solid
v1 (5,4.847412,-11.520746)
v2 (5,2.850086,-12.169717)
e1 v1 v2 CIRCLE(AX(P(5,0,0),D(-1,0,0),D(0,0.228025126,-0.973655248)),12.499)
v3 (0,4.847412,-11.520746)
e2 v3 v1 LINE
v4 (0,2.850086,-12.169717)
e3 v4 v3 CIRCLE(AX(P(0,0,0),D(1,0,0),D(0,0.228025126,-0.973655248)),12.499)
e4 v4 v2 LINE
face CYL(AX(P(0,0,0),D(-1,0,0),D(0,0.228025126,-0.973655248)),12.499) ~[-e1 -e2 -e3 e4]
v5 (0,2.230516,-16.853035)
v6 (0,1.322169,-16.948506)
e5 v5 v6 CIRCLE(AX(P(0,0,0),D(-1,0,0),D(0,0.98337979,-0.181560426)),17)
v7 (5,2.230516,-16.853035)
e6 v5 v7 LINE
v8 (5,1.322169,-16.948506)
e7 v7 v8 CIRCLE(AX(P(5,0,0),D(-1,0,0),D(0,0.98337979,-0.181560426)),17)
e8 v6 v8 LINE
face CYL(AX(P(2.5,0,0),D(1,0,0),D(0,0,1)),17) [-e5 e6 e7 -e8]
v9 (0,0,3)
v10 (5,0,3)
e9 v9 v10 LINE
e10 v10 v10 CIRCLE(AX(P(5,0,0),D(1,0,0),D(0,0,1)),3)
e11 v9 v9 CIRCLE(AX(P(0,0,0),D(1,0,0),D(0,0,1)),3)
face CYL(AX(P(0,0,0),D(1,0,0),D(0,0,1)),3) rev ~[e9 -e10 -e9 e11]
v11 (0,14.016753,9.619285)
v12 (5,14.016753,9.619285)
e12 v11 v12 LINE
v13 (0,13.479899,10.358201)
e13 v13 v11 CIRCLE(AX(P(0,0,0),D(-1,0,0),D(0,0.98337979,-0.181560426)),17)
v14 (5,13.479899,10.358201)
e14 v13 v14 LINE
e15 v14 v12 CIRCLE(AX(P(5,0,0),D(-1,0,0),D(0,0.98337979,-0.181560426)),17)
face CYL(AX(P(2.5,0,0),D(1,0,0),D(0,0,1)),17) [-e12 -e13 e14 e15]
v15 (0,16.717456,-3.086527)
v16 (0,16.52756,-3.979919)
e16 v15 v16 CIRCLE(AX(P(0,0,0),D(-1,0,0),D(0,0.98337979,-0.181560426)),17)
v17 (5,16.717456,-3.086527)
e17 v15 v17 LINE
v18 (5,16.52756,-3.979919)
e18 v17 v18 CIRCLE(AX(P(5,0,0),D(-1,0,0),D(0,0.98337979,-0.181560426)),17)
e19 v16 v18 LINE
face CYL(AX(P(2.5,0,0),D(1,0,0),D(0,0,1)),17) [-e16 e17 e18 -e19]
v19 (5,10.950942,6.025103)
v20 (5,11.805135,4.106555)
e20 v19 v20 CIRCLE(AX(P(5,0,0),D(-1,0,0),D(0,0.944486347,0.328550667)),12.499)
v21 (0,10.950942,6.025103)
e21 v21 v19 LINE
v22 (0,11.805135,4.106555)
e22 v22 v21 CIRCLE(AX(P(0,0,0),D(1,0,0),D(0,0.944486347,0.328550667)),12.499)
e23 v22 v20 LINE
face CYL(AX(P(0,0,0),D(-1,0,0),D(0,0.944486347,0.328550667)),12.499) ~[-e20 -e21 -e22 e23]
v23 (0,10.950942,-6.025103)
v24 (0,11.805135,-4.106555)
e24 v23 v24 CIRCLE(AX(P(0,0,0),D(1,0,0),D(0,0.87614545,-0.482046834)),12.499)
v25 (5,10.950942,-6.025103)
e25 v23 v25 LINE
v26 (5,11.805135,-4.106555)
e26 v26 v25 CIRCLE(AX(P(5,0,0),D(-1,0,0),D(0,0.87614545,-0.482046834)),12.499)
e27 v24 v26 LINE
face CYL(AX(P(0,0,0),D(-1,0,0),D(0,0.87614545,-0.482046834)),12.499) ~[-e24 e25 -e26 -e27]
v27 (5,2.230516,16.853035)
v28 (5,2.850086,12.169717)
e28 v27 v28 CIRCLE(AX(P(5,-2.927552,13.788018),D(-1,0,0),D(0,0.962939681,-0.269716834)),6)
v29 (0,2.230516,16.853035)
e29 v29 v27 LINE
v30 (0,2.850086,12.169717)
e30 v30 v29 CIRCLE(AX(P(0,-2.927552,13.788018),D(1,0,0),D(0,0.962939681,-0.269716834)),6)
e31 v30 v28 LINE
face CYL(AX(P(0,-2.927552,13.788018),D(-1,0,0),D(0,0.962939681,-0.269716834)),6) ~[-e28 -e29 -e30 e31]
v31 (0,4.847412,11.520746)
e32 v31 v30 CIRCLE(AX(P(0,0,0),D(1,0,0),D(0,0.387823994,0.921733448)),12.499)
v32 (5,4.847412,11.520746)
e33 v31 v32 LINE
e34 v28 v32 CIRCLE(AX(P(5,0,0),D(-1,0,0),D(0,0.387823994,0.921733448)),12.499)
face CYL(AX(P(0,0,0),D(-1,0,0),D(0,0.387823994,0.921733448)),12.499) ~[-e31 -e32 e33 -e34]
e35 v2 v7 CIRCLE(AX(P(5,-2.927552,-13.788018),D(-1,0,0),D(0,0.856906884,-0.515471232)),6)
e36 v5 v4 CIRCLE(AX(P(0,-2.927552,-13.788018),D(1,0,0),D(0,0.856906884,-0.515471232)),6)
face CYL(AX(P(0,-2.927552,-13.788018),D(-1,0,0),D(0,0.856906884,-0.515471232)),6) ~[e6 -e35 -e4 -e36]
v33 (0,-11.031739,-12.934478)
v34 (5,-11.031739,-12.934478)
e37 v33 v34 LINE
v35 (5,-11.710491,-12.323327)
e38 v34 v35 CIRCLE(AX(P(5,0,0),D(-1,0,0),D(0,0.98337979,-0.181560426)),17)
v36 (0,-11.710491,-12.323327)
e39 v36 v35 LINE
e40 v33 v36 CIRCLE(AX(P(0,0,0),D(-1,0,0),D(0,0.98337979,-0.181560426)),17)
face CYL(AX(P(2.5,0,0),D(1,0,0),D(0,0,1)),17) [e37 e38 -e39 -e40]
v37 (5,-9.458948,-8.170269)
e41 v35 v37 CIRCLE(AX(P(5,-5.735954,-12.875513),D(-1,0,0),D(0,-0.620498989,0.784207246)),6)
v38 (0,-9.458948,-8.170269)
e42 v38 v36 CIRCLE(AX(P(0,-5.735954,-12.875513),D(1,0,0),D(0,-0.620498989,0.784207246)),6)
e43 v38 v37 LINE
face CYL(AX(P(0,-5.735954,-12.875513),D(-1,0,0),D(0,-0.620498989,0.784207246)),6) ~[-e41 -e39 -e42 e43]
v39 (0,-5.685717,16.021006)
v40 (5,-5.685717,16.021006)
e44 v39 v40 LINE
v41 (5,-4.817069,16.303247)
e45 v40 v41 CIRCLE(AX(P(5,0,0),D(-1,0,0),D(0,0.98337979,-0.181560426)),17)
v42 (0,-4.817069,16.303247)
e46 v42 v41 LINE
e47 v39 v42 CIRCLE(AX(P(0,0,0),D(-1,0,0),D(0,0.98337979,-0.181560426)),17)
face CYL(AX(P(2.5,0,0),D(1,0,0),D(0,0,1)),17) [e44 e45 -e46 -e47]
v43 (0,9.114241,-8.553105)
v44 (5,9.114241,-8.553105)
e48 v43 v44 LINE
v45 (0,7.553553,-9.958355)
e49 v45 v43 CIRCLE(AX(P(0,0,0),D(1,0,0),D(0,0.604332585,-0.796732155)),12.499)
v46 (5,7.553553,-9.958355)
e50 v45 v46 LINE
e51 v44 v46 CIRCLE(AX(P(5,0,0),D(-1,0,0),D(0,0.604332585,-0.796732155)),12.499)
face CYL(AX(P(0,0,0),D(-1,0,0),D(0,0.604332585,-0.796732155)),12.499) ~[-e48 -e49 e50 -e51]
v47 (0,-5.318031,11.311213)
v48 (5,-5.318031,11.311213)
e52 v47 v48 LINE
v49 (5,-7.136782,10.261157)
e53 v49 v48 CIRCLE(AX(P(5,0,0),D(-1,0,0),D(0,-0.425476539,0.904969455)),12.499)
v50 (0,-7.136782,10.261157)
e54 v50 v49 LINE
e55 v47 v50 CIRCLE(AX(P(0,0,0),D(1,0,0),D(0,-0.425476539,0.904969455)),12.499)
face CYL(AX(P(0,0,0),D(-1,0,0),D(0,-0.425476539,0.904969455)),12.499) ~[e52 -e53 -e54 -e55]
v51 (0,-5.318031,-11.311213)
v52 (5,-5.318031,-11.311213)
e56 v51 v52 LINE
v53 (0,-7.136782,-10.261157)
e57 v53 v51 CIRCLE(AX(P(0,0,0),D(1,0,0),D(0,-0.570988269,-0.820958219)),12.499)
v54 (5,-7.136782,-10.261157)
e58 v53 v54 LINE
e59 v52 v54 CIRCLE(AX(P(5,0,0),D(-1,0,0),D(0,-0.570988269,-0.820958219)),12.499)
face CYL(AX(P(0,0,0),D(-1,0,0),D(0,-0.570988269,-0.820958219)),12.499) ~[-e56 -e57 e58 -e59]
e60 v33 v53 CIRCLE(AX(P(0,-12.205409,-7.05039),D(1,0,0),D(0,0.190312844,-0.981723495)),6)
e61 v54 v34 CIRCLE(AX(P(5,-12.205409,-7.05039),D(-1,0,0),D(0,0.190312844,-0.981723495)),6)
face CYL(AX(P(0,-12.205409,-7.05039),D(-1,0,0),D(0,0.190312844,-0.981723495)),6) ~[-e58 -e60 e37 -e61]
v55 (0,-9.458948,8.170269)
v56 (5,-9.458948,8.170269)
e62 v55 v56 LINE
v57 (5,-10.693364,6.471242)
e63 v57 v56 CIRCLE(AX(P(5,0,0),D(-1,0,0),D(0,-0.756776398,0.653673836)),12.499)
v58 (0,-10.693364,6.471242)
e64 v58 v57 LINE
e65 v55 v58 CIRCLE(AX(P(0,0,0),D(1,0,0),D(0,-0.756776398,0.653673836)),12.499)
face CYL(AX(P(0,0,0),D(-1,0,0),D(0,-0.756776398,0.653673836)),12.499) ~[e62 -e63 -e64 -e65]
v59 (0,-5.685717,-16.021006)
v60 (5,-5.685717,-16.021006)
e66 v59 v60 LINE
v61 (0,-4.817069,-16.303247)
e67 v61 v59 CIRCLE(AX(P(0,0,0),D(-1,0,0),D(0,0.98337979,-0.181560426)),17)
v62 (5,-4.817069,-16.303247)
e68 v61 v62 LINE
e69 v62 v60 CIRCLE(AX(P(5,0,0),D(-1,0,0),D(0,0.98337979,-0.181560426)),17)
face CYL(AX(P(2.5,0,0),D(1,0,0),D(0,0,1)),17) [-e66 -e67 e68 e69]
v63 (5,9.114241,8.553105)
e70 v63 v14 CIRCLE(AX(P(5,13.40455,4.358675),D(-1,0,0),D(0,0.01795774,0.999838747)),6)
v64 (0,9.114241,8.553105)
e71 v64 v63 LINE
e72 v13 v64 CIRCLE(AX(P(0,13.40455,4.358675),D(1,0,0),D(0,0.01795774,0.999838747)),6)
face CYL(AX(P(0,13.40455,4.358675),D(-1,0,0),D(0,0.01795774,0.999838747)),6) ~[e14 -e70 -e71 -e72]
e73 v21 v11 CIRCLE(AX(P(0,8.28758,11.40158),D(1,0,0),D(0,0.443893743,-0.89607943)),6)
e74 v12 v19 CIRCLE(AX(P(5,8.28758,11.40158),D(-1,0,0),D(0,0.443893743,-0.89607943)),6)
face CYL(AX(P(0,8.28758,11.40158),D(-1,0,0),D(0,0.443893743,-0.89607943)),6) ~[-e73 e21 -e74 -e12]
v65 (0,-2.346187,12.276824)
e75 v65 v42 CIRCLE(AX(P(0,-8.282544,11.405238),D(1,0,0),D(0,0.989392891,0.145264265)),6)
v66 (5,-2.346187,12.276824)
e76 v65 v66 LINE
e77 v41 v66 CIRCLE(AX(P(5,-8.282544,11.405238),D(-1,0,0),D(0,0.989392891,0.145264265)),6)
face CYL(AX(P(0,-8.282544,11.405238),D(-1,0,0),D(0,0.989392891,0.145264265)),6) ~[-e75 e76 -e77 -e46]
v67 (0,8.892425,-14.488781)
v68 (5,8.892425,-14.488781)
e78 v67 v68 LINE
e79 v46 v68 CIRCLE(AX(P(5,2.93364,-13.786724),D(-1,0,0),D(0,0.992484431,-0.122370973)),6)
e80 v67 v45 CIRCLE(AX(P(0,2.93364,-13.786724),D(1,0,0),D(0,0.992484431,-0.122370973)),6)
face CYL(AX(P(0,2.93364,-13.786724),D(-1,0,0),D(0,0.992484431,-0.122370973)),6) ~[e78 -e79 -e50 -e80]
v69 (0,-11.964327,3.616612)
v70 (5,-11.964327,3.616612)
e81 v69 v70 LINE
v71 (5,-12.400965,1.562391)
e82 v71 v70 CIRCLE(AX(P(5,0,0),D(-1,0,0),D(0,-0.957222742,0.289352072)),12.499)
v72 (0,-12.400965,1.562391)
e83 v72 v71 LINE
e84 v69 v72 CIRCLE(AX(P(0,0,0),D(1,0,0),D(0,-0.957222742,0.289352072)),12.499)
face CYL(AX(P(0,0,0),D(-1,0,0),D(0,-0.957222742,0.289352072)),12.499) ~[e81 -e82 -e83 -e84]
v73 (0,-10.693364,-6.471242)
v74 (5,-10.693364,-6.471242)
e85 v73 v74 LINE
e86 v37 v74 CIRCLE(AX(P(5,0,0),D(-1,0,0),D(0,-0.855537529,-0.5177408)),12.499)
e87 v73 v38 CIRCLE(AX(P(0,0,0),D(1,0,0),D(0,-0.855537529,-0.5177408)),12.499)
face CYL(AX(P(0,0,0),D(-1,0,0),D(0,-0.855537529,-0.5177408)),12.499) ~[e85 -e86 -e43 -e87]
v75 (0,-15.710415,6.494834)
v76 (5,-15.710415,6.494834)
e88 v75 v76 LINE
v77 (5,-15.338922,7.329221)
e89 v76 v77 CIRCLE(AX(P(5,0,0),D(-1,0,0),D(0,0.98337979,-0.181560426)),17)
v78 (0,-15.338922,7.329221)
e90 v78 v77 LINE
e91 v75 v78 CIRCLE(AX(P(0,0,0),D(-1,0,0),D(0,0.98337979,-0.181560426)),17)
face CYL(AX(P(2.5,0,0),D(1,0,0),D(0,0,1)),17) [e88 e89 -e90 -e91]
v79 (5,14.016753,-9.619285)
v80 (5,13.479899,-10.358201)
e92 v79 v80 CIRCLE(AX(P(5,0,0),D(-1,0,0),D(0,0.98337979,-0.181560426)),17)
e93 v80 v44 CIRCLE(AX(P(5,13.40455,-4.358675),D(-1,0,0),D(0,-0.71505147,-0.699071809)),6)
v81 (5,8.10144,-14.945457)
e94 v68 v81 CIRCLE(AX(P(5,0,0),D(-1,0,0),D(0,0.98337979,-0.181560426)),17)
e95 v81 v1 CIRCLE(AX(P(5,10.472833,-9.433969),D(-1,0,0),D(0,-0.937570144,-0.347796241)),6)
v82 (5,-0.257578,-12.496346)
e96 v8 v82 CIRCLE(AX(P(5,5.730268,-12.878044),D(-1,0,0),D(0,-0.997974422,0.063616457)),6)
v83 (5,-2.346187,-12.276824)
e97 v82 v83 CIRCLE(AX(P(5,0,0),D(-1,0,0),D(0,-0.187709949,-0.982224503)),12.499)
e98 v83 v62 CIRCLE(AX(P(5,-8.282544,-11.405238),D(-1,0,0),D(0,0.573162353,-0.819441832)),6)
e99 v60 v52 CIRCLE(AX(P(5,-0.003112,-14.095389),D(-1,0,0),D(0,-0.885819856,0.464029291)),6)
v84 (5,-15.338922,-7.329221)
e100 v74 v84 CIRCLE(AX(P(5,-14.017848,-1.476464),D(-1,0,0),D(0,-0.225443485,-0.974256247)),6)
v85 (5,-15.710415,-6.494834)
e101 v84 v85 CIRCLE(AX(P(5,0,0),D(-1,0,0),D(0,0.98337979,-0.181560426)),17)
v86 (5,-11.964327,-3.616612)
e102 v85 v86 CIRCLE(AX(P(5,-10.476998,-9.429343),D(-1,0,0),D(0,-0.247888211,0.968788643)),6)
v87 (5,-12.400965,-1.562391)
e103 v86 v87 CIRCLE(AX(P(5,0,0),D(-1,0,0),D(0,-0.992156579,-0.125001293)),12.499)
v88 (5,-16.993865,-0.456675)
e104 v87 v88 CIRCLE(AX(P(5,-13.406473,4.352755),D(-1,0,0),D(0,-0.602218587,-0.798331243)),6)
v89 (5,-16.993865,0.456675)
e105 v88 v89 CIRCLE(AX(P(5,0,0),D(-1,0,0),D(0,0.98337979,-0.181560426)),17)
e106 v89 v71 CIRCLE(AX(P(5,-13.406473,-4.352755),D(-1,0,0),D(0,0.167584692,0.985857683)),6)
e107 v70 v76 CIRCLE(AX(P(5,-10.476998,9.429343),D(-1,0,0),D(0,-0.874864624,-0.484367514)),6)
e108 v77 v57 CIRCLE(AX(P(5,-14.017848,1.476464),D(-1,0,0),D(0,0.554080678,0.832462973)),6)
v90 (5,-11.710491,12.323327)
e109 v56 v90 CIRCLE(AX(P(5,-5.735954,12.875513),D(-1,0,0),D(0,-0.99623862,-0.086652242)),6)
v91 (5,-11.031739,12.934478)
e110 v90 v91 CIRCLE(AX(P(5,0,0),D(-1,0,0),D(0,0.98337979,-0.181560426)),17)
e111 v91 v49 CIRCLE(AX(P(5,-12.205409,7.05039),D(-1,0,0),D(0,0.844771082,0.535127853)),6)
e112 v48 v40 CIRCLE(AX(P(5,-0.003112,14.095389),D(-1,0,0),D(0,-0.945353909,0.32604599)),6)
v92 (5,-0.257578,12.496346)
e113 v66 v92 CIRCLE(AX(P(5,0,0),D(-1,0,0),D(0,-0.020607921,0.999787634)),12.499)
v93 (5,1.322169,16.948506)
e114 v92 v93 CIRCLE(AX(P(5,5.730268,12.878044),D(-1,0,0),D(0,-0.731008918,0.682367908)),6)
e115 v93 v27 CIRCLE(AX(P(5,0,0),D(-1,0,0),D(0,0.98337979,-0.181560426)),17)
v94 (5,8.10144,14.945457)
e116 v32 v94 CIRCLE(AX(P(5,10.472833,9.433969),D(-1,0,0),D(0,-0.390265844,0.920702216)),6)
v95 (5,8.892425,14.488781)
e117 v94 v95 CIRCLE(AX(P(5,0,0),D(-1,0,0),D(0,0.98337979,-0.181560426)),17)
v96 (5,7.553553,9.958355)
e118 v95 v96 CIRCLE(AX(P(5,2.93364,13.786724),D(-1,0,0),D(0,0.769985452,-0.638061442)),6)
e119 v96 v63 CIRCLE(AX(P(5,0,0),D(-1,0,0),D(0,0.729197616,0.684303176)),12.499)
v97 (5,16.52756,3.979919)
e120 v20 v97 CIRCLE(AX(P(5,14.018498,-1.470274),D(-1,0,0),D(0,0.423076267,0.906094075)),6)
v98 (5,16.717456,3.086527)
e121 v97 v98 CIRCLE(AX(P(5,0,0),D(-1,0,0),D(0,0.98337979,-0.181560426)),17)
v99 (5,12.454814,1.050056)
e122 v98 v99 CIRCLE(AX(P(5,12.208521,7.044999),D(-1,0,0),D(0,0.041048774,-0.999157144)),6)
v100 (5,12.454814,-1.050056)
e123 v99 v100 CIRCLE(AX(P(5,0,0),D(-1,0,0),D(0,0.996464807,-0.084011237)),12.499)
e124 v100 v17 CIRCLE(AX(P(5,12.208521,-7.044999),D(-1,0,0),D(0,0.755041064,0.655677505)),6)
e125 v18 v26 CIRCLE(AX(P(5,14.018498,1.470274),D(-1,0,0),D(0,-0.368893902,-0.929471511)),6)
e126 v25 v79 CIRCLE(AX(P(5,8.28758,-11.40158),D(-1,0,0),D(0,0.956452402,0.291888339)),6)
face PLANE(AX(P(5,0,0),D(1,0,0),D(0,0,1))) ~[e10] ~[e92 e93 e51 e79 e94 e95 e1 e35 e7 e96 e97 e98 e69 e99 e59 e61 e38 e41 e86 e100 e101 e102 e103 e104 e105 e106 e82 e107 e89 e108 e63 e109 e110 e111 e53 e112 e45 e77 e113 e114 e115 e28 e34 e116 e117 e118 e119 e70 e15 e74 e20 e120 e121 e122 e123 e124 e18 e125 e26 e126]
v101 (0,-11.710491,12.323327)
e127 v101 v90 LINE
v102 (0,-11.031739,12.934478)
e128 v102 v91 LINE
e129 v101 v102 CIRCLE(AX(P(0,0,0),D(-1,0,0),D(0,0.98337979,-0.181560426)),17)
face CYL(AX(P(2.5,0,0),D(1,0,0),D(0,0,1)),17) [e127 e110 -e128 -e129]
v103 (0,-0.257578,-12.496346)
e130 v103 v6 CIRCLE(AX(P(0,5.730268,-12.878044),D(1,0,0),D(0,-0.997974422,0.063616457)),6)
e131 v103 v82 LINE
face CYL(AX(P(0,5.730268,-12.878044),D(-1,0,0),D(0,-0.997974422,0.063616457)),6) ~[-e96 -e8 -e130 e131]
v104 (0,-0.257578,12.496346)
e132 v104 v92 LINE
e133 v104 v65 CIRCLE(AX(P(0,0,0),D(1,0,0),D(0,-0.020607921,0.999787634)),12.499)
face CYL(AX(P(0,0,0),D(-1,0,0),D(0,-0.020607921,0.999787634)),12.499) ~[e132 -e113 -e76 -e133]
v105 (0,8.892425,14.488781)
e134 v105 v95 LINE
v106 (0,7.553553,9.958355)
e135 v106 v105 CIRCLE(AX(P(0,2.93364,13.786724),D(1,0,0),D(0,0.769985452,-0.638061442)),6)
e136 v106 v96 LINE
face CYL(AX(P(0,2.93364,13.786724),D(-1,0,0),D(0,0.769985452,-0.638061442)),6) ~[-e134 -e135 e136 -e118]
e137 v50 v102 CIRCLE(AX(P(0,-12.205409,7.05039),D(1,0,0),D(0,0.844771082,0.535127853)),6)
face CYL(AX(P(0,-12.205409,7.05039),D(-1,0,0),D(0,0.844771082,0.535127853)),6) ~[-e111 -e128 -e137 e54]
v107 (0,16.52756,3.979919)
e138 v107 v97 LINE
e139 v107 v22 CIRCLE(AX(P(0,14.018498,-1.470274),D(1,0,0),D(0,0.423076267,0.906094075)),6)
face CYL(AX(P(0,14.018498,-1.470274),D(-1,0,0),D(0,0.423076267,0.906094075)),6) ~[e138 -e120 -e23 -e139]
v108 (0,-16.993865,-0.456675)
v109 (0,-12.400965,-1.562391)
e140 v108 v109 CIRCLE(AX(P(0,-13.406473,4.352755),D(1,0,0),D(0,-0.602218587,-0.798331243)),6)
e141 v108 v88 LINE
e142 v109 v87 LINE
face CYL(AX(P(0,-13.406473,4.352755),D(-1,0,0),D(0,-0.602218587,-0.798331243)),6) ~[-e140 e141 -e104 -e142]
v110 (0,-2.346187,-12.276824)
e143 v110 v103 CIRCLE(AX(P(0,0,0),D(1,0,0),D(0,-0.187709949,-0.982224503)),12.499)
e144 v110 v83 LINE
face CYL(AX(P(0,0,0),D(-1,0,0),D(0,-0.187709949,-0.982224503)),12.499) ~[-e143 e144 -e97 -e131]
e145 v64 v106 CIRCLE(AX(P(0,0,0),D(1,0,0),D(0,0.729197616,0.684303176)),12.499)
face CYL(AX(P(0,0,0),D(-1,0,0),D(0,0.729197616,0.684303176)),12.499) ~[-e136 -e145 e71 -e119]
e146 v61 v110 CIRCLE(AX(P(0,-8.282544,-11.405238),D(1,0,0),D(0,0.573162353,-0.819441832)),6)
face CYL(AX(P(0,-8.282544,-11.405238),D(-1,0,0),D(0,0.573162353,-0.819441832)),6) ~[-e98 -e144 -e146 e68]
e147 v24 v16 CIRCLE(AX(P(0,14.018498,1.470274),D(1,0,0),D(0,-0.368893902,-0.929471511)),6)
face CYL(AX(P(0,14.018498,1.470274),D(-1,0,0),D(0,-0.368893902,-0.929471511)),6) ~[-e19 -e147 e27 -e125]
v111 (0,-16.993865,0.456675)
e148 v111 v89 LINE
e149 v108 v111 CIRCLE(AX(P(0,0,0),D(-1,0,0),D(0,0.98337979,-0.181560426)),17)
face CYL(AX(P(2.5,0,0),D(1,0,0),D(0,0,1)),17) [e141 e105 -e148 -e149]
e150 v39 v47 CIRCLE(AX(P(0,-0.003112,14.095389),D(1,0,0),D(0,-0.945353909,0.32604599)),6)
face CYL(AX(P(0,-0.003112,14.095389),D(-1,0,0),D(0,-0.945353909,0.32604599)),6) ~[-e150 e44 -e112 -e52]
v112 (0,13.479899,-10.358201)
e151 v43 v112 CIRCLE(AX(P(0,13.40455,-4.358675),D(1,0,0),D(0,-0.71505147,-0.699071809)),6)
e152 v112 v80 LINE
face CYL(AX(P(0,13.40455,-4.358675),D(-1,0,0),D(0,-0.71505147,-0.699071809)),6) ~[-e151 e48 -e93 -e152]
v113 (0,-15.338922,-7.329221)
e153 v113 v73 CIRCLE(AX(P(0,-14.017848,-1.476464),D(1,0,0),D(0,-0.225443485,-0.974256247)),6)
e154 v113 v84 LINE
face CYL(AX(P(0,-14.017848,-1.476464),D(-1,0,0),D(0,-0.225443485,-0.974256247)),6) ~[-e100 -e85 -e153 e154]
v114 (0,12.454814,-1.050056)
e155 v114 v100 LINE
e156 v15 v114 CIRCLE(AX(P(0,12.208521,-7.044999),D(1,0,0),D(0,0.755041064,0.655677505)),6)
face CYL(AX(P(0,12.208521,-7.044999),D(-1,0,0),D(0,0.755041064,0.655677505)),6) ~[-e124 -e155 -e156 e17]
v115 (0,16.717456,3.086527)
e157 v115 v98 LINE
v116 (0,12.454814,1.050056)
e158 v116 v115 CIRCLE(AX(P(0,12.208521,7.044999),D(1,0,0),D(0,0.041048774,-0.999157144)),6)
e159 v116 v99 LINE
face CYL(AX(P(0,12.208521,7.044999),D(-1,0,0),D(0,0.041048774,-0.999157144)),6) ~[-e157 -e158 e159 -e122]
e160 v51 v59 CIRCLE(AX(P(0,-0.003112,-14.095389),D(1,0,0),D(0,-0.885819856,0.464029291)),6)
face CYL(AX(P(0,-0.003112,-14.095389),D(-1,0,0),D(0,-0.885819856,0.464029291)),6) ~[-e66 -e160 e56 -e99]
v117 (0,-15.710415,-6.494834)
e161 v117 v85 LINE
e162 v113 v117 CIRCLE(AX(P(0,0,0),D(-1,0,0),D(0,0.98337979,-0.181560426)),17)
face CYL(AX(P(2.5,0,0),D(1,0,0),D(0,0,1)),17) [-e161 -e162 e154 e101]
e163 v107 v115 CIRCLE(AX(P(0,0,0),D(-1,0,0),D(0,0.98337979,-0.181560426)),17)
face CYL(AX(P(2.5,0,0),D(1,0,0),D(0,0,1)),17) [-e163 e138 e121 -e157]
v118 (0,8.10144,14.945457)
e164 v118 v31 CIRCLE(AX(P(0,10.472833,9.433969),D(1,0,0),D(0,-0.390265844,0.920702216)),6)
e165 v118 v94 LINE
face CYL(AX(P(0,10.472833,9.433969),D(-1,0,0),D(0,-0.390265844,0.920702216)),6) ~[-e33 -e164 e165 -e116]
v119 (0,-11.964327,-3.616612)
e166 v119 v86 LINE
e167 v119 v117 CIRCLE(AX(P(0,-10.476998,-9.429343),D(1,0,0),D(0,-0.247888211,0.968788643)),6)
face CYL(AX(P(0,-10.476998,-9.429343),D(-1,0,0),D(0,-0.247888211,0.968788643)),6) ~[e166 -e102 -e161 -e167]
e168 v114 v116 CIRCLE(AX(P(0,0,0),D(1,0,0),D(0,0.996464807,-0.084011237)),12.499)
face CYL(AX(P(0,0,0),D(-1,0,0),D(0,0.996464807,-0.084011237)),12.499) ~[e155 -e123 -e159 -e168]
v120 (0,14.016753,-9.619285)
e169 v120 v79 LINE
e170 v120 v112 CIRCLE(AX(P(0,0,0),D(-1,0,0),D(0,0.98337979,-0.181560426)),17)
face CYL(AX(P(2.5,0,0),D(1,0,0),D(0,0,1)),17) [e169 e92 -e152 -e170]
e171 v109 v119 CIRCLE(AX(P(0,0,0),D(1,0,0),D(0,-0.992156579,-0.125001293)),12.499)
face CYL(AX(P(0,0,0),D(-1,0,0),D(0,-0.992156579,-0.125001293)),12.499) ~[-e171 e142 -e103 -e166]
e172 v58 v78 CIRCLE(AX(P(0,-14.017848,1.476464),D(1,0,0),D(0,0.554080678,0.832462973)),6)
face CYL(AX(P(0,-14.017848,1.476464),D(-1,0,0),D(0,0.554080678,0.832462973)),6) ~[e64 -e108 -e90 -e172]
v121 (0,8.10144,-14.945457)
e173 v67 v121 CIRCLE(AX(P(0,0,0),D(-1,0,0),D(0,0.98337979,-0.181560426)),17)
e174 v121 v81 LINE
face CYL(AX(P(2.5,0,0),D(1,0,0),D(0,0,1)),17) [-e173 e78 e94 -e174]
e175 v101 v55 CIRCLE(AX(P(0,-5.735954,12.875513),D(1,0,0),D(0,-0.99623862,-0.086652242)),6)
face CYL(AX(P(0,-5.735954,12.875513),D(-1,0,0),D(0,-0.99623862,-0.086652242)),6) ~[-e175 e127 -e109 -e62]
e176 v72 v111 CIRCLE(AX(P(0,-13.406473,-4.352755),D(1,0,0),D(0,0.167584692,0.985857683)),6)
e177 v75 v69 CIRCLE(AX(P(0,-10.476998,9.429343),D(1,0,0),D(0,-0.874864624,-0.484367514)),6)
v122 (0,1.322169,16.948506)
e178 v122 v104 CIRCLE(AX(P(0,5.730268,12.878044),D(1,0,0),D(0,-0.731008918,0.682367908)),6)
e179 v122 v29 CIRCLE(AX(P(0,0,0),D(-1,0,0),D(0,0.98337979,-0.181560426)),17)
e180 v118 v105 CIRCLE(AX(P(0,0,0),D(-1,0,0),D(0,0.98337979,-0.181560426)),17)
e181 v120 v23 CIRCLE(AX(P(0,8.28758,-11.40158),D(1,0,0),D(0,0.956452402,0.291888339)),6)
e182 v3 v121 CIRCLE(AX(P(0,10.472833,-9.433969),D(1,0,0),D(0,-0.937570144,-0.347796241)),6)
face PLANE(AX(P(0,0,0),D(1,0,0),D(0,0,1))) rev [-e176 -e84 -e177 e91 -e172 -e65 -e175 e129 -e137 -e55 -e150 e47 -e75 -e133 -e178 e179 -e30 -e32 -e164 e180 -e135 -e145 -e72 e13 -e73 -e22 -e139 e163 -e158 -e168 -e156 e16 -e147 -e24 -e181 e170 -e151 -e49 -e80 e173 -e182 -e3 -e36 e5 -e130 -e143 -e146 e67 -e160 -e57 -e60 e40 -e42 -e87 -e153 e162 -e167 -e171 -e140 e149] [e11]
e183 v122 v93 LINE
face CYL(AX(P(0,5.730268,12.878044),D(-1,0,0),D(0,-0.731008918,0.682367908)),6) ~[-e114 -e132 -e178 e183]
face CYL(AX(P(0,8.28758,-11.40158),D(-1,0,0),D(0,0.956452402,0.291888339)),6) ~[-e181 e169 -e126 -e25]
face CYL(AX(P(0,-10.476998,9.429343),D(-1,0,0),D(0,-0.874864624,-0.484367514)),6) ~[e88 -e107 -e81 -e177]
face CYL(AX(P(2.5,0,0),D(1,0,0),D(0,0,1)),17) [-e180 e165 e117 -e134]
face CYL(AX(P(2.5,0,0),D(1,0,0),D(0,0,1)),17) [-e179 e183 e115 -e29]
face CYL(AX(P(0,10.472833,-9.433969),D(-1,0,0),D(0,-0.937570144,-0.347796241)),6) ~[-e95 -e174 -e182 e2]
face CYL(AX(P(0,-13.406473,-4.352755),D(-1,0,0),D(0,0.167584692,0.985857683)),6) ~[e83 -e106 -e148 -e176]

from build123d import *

# Parameters (mm, degrees)
BASPROSKE_W     = 5
BASPROSKE_H     = 17
TOOTHCUT_DEPTH  = 25.556058316
TEETHCUTS_COUNT = 15
TEETHCUTS_ANGLE = 336
BORSKE_R        = 3
BORE_DEPTH      = 50.0000508


with BuildPart() as part:
    # BasProSke → Base-Revolve (revolve)
    with BuildSketch(Plane(origin=(0, 0, 0), x_dir=(1, 0, 0), z_dir=(0, 1, 0)), mode=Mode.PRIVATE) as base_revolve_sk:
        with Locations((2.5, 8.5)):
            Rectangle(BASPROSKE_W, BASPROSKE_H)
    revolve(base_revolve_sk.sketch.rotate(Axis((-10, 0, 0), (1, 0, 0)), 180), axis=Axis((-10, 0, 0), (1, 0, 0)))

    # TooCutSke → ToothCut (cut, through all)
    with BuildSketch(Plane(origin=(0, 0, 0), x_dir=(0, 0, -1), z_dir=(1, 0, 0))):
        with BuildLine():
            ThreePointArc((1.050056448, 12.454813626), (0, 12.499), (-1.050056448, 12.454813626))
            ThreePointArc((-1.050056448, 12.454813626), (-1.638118106, 14.809604533), (-3.110934279, 16.73876737))
            ThreePointArc((-3.110934279, 16.73876737), (0, 17.0254), (3.110934279, 16.73876737))
            ThreePointArc((3.110934279, 16.73876737), (1.638118106, 14.809604533), (1.050056448, 12.454813626))
        make_face()
    toothcut = extrude(amount=TOOTHCUT_DEPTH, mode=Mode.SUBTRACT)

    # TeethCuts: ToothCut ×15 about axis
    teethcuts_axis = Axis((-10, 0, 0), (1, 0, 0))
    for i in range(1, TEETHCUTS_COUNT):
        add(toothcut.rotate(teethcuts_axis, i * TEETHCUTS_ANGLE / (TEETHCUTS_COUNT - 1)), mode=Mode.SUBTRACT)

    # BorSke → Bore (cut, symmetric)
    with BuildSketch(Plane(origin=(0, 0, 0), x_dir=(0, 0, -1), z_dir=(1, 0, 0))):
        with Locations(Location((0, 0, 0), (0, 0, 180))):
            Circle(BORSKE_R)
    extrude(amount=BORE_DEPTH, both=True, mode=Mode.SUBTRACT)


solid = part.part
